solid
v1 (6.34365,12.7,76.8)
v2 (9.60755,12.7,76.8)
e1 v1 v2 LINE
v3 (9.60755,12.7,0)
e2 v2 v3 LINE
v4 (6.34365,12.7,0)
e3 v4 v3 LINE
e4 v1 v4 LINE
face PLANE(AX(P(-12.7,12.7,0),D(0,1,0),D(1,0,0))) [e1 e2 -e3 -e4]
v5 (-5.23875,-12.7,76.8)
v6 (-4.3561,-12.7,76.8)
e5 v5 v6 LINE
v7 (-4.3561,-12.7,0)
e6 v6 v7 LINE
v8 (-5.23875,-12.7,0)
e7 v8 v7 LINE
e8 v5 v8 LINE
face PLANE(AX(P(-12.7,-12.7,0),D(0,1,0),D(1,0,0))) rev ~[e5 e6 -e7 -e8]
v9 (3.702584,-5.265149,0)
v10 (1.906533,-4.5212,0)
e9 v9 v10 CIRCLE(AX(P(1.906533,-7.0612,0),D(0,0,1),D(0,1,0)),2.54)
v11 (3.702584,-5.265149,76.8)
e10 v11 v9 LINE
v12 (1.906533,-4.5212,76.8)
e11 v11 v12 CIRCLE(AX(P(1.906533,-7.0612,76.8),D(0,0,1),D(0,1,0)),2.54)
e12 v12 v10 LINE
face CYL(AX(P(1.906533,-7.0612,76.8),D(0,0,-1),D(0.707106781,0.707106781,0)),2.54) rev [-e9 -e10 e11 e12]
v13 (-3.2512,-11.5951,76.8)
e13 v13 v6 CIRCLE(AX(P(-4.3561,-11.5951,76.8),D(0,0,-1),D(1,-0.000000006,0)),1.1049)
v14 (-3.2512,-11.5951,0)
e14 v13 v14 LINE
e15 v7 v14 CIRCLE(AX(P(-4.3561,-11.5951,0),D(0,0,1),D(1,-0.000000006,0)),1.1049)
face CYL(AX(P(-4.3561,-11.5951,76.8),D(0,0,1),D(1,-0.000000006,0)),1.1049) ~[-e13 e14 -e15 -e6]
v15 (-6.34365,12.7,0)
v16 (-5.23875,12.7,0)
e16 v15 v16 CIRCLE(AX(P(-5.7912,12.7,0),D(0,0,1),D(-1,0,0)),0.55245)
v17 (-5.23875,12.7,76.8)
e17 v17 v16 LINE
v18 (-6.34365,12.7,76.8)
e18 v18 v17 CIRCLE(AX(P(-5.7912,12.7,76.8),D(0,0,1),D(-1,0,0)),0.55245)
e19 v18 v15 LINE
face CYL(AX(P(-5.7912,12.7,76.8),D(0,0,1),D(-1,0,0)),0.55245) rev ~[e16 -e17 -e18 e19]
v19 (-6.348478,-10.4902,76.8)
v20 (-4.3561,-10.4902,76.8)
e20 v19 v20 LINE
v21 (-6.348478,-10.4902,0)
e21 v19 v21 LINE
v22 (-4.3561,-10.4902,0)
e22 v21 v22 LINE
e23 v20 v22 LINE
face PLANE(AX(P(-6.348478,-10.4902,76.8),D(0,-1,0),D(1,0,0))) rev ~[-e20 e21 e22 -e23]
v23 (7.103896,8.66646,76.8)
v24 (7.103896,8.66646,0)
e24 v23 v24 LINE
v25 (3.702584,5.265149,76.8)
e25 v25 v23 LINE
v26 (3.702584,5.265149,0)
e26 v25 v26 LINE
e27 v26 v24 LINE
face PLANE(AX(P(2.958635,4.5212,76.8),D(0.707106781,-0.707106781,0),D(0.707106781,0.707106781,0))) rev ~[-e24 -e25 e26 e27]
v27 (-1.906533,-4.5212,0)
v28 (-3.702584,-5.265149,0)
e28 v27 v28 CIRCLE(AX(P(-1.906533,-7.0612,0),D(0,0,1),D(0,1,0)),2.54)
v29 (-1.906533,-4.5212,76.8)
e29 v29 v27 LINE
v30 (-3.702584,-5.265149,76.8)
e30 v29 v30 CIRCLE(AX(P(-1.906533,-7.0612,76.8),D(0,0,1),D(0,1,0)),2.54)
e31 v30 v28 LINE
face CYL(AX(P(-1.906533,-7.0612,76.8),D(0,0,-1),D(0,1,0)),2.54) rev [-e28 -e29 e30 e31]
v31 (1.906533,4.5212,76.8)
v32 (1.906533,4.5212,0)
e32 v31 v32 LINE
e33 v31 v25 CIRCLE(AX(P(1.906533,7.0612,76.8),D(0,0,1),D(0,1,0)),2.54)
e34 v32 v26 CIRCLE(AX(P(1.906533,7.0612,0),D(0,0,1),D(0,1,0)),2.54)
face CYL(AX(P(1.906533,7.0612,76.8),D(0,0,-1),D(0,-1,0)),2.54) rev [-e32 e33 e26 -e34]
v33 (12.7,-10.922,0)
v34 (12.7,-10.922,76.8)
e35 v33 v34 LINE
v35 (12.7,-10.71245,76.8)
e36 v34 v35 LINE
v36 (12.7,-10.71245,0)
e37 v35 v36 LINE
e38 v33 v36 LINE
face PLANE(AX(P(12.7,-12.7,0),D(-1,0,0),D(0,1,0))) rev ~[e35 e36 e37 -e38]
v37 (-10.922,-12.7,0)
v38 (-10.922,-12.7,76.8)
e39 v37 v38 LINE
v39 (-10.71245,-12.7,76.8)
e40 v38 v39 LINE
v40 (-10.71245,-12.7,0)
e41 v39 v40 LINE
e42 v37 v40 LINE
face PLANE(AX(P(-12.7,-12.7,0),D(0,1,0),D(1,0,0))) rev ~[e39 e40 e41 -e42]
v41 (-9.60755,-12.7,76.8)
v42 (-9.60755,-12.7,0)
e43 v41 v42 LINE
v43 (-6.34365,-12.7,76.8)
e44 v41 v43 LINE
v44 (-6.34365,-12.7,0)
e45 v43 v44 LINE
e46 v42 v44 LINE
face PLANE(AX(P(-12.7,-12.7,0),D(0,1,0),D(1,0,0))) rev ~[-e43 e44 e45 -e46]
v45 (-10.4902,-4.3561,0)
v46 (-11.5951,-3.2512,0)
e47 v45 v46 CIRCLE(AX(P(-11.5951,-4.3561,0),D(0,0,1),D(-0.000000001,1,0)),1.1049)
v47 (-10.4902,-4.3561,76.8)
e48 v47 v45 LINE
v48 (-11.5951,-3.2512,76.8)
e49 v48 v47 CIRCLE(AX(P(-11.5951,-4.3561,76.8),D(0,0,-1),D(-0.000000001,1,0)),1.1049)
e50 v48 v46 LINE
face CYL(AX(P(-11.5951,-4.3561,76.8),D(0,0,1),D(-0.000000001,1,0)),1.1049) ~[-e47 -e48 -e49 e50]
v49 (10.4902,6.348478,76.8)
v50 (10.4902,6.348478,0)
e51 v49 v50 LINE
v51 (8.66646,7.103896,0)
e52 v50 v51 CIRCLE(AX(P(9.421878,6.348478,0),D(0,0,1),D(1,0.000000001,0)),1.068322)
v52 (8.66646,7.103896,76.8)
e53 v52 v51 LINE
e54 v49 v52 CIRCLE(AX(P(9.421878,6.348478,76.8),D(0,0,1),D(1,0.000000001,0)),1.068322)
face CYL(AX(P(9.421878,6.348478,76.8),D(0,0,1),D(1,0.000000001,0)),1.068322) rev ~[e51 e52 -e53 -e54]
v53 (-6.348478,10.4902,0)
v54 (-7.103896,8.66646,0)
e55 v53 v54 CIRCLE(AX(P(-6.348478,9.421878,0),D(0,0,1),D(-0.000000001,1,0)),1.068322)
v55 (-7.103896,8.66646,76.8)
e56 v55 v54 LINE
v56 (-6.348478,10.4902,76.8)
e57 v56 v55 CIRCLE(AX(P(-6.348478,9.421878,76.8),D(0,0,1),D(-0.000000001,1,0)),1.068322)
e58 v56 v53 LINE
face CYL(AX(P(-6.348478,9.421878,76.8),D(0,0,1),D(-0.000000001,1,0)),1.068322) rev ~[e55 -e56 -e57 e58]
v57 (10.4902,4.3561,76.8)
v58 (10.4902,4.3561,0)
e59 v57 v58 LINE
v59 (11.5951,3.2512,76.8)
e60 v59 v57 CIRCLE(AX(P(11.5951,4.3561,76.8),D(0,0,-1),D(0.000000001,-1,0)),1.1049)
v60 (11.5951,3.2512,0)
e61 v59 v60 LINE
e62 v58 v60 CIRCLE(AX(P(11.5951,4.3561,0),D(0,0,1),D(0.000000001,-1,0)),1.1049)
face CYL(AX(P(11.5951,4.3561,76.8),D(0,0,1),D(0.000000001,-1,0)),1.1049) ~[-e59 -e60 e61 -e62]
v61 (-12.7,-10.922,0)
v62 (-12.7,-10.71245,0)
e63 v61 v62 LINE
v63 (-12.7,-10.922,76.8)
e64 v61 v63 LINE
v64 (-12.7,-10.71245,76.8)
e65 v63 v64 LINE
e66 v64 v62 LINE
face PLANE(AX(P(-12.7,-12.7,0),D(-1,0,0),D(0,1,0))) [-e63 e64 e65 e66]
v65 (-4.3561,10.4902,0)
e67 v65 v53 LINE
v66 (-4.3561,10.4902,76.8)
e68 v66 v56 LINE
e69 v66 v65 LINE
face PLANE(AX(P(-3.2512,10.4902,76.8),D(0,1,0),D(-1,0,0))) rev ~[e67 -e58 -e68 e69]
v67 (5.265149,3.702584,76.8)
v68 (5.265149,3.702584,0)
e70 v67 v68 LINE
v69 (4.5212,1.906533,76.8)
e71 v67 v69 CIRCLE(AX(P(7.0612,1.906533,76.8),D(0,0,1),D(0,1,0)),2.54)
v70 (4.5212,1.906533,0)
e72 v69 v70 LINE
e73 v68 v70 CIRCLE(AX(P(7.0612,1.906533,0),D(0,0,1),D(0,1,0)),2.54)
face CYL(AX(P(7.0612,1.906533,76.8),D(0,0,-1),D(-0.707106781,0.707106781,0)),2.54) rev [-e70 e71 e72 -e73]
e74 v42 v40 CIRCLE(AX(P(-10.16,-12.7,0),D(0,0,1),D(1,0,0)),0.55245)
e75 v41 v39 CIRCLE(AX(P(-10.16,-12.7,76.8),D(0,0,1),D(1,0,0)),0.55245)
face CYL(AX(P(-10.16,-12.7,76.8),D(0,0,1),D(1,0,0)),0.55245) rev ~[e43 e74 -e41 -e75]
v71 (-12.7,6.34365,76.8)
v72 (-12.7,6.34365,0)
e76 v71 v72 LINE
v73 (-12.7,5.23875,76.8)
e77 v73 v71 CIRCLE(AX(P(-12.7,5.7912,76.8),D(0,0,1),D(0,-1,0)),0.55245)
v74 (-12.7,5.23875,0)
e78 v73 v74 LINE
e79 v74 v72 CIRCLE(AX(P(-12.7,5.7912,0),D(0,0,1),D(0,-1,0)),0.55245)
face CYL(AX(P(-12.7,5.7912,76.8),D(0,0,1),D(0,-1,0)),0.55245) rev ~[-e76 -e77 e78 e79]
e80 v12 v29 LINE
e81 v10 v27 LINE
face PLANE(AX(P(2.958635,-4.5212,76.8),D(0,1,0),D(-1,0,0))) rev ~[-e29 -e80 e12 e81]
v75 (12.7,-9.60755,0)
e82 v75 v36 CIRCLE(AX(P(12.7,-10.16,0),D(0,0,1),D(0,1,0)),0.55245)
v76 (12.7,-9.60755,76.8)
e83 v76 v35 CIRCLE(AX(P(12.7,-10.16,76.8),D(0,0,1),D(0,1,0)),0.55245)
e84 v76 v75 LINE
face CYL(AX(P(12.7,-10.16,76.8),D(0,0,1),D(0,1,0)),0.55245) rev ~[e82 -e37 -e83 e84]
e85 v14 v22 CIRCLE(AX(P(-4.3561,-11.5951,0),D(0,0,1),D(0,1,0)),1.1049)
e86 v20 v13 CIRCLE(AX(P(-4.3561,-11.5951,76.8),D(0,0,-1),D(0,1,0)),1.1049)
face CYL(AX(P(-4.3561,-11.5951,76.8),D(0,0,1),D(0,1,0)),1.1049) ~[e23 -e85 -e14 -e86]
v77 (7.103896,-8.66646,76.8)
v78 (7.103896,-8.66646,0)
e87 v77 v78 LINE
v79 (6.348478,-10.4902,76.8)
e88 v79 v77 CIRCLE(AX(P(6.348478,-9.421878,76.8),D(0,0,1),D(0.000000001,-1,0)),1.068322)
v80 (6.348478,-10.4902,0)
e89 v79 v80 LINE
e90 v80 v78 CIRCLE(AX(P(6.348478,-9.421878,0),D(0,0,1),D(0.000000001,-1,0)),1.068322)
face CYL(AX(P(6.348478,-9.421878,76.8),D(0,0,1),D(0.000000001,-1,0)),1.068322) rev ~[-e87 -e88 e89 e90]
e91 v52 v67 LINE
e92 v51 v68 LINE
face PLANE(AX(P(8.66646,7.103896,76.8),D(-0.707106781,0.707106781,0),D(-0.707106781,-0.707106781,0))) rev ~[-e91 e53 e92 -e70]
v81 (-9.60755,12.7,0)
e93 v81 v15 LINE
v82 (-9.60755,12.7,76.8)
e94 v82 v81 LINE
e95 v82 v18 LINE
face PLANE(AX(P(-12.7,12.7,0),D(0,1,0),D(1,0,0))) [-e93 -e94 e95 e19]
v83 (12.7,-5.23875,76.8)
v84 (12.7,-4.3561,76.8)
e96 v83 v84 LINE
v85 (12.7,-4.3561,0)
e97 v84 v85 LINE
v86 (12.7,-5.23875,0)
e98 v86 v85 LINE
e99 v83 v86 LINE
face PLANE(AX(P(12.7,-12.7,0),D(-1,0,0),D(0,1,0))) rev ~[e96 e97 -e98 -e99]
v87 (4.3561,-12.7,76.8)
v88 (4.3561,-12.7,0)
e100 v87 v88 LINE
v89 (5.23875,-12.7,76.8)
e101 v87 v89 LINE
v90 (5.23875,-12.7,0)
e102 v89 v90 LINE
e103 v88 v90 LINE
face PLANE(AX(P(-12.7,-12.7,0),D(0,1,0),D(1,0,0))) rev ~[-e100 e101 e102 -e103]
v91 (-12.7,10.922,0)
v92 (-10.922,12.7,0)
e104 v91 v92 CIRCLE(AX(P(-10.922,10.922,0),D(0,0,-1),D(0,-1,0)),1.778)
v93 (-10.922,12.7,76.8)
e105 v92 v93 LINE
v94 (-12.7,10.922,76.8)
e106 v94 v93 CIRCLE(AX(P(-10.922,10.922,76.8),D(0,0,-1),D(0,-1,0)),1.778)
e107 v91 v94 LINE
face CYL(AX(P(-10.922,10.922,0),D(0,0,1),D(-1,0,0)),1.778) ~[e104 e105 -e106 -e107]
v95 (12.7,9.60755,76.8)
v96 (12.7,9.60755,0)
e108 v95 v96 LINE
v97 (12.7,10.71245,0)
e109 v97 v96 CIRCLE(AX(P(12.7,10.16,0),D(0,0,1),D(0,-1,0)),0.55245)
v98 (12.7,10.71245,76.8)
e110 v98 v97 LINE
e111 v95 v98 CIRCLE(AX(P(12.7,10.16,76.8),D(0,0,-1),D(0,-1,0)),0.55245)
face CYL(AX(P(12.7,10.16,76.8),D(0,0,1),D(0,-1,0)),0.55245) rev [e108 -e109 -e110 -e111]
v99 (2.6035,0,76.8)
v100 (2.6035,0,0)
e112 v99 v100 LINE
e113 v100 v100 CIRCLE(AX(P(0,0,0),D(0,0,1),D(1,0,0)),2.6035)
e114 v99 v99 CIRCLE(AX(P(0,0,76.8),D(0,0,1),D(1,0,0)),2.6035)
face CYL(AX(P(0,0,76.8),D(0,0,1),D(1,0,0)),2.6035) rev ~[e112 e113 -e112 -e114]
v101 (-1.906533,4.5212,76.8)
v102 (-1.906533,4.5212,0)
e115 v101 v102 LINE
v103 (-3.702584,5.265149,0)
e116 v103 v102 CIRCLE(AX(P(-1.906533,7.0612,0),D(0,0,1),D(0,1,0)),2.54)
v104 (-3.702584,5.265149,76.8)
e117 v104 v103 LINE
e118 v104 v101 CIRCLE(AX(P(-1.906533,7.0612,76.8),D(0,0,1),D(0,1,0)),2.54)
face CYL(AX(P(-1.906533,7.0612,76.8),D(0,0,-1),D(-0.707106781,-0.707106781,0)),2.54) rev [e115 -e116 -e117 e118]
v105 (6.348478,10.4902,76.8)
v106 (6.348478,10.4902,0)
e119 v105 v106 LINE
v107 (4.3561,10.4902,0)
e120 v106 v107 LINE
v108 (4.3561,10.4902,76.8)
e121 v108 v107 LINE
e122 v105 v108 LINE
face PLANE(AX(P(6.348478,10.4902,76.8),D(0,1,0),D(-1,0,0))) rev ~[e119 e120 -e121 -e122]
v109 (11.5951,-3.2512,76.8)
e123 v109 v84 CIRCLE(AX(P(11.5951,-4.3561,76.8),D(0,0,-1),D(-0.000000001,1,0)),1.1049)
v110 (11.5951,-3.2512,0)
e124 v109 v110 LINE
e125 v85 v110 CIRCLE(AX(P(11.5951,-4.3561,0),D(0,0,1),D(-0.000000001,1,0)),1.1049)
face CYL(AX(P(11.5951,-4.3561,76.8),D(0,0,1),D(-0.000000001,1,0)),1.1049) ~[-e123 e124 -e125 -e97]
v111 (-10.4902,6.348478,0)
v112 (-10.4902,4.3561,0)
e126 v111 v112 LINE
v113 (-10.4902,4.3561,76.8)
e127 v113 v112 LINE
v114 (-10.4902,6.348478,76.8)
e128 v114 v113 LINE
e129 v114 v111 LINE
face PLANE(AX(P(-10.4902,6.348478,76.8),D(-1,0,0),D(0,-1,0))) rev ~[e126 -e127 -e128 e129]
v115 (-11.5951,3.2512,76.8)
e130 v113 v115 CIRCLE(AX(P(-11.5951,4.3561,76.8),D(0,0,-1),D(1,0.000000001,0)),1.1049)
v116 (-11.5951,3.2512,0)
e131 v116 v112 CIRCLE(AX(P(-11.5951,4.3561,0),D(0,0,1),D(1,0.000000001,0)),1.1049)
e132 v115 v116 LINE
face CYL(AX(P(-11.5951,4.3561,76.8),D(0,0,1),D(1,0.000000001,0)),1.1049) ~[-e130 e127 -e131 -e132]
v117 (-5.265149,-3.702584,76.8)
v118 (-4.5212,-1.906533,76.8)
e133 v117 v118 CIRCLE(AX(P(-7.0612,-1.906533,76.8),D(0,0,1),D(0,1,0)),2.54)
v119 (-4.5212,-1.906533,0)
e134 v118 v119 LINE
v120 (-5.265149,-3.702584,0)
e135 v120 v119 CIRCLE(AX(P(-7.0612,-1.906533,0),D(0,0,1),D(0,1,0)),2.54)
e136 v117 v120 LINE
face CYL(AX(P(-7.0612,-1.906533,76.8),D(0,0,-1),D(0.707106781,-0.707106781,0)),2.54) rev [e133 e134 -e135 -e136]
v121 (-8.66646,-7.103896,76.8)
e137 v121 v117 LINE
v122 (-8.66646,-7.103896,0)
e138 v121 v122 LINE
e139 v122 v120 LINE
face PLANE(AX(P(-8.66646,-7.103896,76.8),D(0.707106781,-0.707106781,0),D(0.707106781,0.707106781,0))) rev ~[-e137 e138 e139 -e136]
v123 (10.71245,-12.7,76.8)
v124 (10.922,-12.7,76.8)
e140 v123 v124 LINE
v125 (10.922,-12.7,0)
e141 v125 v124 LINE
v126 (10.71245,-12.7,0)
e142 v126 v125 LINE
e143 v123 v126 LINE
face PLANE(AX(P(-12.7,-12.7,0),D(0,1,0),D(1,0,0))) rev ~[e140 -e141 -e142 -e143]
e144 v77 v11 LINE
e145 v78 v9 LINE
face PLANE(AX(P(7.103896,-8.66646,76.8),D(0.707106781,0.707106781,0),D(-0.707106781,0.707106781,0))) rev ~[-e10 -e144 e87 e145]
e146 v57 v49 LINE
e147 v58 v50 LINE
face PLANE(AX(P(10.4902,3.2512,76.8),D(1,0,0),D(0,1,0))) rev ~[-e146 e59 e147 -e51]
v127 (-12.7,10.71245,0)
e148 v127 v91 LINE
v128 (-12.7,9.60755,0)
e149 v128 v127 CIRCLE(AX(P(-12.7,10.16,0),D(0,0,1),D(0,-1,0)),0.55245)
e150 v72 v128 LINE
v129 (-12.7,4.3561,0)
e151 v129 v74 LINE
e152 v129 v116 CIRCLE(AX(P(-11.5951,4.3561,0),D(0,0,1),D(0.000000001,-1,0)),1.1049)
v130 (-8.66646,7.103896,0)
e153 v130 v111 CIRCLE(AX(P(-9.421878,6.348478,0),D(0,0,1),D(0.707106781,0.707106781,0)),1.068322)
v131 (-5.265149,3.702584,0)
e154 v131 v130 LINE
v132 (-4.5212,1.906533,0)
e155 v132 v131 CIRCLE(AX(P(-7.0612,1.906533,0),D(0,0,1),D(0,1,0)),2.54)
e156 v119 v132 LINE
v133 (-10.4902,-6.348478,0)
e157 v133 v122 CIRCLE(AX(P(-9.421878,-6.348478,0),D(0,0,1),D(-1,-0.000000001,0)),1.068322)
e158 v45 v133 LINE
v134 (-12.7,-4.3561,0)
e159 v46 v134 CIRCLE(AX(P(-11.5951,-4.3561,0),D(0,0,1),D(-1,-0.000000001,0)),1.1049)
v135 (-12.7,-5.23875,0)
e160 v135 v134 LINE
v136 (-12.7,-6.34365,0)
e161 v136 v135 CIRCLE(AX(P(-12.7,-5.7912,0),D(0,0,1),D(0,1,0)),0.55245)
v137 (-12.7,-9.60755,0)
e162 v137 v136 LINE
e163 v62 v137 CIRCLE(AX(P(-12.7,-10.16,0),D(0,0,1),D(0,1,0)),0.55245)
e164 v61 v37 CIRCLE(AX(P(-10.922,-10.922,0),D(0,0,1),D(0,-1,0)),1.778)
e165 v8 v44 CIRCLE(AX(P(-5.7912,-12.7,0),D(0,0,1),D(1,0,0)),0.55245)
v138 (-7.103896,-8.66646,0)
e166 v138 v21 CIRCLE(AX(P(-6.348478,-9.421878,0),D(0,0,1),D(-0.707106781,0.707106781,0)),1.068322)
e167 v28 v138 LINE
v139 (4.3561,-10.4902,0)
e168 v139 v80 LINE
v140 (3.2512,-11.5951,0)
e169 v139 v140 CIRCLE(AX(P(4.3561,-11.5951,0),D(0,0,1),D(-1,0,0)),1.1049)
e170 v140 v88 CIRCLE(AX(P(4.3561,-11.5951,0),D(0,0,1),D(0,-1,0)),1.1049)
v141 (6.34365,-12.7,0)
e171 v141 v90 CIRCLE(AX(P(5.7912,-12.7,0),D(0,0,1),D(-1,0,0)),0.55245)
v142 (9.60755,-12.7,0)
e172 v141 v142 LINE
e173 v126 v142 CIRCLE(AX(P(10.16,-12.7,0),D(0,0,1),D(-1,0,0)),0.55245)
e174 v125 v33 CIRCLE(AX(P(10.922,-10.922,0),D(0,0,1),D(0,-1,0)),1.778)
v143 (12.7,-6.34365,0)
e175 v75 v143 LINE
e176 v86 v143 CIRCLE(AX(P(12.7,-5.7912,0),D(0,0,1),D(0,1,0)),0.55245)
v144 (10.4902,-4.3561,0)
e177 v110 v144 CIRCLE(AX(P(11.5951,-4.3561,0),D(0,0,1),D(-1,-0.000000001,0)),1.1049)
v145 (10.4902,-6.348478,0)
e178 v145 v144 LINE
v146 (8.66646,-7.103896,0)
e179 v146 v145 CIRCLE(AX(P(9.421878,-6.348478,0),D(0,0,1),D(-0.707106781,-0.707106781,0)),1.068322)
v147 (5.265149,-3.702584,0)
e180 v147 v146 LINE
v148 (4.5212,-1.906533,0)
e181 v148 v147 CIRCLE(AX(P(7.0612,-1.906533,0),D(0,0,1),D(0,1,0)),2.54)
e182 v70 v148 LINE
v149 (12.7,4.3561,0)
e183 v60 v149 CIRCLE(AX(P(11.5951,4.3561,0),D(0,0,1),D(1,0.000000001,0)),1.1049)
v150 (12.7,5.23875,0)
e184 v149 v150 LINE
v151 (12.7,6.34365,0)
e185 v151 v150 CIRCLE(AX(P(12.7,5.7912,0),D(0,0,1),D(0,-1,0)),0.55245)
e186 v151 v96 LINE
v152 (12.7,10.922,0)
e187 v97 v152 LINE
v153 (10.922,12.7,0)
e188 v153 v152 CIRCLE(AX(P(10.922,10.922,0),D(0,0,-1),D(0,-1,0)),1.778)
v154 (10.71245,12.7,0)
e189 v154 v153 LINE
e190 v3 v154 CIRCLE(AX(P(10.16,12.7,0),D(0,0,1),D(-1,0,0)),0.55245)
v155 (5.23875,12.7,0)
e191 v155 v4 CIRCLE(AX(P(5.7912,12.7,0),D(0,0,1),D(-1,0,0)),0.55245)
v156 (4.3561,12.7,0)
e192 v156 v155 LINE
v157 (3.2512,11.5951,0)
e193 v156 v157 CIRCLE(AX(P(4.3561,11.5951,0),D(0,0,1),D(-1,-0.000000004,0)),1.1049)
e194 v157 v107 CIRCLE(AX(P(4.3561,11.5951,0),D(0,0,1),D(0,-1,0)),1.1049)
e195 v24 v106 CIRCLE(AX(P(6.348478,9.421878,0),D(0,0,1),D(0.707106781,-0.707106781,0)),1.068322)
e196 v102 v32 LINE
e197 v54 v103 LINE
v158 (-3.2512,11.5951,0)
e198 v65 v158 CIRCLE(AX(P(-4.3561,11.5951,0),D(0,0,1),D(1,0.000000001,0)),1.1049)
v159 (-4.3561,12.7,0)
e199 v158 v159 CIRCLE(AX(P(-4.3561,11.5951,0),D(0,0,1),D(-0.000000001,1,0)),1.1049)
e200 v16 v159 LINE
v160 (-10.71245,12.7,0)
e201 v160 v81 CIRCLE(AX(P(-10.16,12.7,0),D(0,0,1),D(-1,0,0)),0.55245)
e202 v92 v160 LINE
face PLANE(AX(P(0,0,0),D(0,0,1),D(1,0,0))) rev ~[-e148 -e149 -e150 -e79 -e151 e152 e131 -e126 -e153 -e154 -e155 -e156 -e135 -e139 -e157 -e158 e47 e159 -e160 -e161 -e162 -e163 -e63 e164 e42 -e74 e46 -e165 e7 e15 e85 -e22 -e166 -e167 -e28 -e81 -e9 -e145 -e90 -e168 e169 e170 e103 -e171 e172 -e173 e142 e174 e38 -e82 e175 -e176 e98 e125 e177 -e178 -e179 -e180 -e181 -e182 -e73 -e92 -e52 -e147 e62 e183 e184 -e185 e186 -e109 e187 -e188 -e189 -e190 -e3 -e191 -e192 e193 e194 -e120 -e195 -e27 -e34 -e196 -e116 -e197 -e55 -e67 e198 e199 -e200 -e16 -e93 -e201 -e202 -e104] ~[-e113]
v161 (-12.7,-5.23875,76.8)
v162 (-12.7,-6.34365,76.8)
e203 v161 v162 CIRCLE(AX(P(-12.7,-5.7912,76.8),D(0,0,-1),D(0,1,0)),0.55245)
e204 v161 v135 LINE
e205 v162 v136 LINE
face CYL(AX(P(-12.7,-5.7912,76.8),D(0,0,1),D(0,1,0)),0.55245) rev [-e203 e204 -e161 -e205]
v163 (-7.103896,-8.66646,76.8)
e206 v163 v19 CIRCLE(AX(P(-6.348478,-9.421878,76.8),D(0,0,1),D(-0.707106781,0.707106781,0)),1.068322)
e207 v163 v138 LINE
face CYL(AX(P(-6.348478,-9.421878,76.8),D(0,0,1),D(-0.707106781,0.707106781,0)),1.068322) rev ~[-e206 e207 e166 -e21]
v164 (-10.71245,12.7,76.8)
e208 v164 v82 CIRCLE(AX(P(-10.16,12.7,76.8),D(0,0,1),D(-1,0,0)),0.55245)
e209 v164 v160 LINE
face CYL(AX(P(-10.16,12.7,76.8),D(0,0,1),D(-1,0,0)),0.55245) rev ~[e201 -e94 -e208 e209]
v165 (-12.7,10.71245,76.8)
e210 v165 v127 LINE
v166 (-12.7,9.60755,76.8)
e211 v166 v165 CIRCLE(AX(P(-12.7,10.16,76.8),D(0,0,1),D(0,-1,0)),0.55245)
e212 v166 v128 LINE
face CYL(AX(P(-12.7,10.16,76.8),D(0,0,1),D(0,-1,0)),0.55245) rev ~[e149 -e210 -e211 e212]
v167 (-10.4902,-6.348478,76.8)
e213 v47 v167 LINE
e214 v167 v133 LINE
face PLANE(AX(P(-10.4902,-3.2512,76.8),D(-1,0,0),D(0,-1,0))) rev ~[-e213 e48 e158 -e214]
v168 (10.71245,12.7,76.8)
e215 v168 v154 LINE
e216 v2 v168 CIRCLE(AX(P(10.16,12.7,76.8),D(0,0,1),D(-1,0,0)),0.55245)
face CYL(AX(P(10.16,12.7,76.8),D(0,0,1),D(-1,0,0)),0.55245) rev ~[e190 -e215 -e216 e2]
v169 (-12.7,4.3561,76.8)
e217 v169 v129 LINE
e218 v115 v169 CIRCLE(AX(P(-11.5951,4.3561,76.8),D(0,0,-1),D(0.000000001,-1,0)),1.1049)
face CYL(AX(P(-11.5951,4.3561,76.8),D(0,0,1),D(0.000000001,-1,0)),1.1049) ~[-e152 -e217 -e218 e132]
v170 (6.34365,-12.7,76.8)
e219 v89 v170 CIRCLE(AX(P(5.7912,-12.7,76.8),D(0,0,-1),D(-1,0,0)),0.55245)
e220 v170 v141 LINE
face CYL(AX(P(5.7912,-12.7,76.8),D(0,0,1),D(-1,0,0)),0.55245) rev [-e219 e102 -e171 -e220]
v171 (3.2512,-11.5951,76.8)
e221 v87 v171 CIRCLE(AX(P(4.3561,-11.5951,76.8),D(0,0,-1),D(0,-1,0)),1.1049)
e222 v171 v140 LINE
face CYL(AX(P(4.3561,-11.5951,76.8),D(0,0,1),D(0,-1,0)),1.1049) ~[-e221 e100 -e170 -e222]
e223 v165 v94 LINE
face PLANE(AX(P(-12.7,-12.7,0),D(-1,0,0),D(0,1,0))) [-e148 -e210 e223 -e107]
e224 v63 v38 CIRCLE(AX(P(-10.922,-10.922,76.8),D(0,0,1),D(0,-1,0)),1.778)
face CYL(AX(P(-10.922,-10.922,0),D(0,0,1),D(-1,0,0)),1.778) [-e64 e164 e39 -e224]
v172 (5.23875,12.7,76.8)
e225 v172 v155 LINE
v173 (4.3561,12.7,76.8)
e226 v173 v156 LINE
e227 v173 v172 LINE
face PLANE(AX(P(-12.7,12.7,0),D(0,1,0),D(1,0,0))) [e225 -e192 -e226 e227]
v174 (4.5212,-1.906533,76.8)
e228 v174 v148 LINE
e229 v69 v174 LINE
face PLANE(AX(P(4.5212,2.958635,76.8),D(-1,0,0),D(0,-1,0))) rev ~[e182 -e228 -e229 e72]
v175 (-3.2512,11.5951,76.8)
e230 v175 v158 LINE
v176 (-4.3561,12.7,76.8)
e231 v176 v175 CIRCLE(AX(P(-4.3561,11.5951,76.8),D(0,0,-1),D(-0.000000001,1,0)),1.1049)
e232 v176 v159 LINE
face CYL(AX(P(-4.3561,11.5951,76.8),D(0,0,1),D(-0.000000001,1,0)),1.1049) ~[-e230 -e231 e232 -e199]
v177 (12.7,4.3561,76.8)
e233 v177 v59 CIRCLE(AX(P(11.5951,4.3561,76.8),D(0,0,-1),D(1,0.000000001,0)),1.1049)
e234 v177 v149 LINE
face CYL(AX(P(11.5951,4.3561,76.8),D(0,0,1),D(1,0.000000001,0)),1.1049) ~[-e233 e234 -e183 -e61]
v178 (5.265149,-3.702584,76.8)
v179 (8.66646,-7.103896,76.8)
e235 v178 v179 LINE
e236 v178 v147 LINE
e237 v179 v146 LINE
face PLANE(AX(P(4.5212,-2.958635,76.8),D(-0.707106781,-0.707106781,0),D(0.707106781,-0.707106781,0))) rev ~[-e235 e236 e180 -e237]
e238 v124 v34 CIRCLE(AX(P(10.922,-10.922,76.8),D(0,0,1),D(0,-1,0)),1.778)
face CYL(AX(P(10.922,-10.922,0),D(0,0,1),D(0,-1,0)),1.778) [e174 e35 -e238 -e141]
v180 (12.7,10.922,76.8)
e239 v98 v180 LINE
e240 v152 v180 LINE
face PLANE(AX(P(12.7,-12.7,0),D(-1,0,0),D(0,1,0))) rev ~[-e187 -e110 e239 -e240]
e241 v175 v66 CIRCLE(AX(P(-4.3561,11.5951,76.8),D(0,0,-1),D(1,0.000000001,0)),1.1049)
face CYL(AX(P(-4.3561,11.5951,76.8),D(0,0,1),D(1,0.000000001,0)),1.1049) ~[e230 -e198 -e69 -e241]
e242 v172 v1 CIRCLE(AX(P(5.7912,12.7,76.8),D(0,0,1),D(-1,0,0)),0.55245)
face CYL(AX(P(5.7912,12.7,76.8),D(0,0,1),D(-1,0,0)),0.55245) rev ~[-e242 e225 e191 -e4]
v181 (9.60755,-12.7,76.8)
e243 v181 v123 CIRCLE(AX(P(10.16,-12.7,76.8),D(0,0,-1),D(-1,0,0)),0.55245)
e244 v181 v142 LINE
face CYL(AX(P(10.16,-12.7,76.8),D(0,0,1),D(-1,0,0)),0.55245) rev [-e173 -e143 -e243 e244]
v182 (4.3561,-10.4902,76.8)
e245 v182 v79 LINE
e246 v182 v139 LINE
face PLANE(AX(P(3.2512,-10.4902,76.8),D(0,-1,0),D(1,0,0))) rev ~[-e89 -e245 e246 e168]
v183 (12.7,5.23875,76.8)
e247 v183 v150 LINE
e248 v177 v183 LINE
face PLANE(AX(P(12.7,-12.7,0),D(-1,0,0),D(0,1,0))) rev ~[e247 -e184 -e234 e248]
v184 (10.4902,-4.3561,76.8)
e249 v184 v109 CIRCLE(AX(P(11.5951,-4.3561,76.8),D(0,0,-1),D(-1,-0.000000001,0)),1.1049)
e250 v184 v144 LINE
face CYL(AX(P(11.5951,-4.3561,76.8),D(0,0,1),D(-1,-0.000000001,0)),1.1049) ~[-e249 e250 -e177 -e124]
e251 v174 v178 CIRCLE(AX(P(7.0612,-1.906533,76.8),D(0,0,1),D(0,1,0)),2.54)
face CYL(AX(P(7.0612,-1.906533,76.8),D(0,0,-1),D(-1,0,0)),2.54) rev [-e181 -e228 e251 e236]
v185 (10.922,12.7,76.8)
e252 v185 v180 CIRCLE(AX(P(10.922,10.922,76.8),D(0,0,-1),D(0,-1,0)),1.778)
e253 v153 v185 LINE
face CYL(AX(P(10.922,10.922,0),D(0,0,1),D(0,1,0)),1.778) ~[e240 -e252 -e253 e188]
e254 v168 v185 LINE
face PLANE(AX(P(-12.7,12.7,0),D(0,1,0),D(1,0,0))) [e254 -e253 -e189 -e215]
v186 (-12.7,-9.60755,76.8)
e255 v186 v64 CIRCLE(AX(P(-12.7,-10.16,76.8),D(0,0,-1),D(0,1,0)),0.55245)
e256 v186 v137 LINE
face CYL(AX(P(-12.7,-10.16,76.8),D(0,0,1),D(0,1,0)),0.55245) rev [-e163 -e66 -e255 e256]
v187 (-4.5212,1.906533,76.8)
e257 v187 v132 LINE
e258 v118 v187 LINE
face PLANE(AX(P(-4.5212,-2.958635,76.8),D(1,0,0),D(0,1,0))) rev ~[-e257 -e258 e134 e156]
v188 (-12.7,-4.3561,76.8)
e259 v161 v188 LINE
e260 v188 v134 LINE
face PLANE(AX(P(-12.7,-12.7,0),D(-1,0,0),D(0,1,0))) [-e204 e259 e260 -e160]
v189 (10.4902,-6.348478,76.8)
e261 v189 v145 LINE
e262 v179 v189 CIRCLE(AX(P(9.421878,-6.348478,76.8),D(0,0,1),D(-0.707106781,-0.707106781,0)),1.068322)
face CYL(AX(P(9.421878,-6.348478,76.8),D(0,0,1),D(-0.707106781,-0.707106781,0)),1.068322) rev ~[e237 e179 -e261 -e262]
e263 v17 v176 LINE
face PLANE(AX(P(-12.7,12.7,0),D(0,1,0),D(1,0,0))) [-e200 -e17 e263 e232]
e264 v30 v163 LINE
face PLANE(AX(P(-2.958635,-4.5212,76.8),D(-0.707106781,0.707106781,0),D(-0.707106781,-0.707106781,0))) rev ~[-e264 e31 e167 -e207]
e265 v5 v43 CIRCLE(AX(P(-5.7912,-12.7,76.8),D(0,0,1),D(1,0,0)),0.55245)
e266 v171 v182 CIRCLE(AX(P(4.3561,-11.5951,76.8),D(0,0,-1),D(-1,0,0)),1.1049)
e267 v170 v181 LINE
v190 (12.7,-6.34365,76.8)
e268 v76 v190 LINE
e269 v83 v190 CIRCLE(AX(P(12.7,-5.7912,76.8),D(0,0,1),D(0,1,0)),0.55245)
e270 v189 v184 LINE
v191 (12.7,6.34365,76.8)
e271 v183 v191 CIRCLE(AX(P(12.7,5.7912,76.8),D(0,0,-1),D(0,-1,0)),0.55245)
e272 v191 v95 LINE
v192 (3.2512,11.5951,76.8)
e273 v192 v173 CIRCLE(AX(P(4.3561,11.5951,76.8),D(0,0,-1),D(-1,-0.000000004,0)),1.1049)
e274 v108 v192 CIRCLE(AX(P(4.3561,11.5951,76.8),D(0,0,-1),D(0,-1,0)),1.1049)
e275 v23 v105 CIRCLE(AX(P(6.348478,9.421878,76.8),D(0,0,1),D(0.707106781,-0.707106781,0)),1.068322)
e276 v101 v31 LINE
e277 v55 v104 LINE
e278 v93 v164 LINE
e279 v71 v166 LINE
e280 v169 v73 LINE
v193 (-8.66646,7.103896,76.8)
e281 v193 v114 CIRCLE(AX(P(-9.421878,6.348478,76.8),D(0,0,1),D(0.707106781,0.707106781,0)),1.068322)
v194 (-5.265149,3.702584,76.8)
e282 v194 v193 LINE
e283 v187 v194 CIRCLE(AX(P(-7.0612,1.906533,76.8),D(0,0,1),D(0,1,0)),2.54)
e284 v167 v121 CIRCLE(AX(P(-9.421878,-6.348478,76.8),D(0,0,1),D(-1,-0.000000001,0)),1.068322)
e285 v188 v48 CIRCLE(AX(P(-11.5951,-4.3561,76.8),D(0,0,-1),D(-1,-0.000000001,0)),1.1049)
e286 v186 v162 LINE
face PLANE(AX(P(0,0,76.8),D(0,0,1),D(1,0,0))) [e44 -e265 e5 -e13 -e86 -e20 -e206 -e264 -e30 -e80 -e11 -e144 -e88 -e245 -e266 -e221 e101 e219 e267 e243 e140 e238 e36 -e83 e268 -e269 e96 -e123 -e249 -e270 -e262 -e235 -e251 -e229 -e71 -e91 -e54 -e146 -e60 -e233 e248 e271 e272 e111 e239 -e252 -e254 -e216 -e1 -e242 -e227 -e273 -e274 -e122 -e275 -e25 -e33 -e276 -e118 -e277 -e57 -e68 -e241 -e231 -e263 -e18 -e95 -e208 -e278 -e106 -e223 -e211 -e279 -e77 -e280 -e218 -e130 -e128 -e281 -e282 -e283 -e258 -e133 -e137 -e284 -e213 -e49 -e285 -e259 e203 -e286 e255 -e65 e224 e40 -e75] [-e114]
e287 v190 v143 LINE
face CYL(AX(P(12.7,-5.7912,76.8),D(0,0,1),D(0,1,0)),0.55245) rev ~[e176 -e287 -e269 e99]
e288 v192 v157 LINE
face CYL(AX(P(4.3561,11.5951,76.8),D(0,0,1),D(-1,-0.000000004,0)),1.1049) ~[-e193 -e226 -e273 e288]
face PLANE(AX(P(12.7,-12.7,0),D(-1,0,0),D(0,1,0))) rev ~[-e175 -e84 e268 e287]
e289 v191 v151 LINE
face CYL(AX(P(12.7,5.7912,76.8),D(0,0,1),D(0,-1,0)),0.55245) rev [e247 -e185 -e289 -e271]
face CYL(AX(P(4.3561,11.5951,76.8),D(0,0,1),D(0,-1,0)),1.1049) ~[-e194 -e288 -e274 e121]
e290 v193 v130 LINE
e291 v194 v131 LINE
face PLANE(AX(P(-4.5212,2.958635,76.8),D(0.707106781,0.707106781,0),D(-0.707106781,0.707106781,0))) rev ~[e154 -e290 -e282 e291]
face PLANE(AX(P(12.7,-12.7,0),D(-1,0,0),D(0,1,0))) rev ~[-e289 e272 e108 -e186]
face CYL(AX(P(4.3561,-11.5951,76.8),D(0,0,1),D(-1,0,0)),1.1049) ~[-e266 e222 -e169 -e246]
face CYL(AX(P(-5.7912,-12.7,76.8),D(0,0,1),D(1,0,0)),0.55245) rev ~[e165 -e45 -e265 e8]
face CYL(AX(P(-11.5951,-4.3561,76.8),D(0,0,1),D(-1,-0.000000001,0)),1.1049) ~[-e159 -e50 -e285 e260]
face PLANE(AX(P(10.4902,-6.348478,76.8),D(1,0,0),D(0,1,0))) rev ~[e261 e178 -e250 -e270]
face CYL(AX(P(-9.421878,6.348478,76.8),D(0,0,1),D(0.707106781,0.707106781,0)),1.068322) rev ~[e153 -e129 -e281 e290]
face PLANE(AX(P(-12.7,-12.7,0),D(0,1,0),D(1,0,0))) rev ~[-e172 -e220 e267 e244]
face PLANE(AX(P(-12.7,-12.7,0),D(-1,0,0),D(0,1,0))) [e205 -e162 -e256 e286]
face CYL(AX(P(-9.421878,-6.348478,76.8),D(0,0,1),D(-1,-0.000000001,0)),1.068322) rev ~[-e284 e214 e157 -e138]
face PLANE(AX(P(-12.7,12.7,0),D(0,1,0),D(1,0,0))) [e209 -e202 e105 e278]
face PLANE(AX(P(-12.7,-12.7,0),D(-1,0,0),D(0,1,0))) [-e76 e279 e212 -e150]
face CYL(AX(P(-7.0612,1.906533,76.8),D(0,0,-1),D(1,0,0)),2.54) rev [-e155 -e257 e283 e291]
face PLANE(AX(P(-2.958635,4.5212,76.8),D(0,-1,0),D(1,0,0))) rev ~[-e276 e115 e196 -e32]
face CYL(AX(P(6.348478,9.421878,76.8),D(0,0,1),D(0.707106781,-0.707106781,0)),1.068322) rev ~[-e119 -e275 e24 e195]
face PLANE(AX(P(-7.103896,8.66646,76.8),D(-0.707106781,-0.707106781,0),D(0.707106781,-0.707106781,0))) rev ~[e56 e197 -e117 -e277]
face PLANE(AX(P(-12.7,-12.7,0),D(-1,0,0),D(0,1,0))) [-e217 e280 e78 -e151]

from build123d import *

# Parameters (mm, degrees)
SKETCH3_W           = 25.4
SKETCH3_H           = 25.4
BOSS_EXTRUDE1_DEPTH = 76.8
SKETCH4_R           = 2.6035
CUT_EXTRUDE1_DEPTH  = 79.872175068
CUT_EXTRUDE2_DEPTH  = 79.872175068
FILLET1_R           = 2.54
FILLET2_R           = 1.778


with BuildPart() as part:
    # Sketch3 → Boss-Extrude1 (new body)
    with BuildSketch(Plane.XY):
        Rectangle(SKETCH3_W, SKETCH3_H)
    extrude(amount=BOSS_EXTRUDE1_DEPTH)

    # Sketch4 → Cut-Extrude1 (cut, through all)
    with BuildSketch(Plane.XY.offset(76.8)):
        with BuildLine():
            Line((3.2512, 12.7), (-3.2512, 12.7))
            Line((-3.2512, 12.7), (-3.2512, 10.4902))
            Line((-3.2512, 10.4902), (-6.348478019, 10.4902))
            ThreePointArc((-6.348478019, 10.4902), (-7.335478831, 9.830707141), (-7.103895736, 8.666460301))
            Line((-7.103895736, 8.666460301), (-2.958635435, 4.5212))
            Line((-2.958635435, 4.5212), (2.958635435, 4.5212))
            Line((2.958635435, 4.5212), (7.103895736, 8.666460301))
            ThreePointArc((7.103895736, 8.666460301), (7.335478831, 9.830707141), (6.348478019, 10.4902))
            Line((6.348478019, 10.4902), (3.2512, 10.4902))
            Line((3.2512, 10.4902), (3.2512, 12.7))
        make_face()
        with BuildLine():
            Line((12.7, -3.2512), (12.7, 3.2512))
            Line((12.7, 3.2512), (10.4902, 3.2512))
            Line((10.4902, 3.2512), (10.4902, 6.348478019))
            ThreePointArc((10.4902, 6.348478019), (9.830707141, 7.335478831), (8.666460301, 7.103895736))
            Line((8.666460301, 7.103895736), (4.5212, 2.958635435))
            Line((4.5212, 2.958635435), (4.5212, -2.958635435))
            Line((4.5212, -2.958635435), (8.666460301, -7.103895736))
            ThreePointArc((8.666460301, -7.103895736), (9.830707141, -7.335478831), (10.4902, -6.348478019))
            Line((10.4902, -6.348478019), (10.4902, -3.2512))
            Line((10.4902, -3.2512), (12.7, -3.2512))
        make_face()
        with BuildLine():
            Line((-3.2512, -10.4902), (-3.2512, -12.7))
            Line((-3.2512, -12.7), (3.2512, -12.7))
            Line((3.2512, -12.7), (3.2512, -10.4902))
            Line((3.2512, -10.4902), (6.348478019, -10.4902))
            ThreePointArc((6.348478019, -10.4902), (7.335478831, -9.830707141), (7.103895736, -8.666460301))
            Line((7.103895736, -8.666460301), (2.958635435, -4.5212))
            Line((2.958635435, -4.5212), (-2.958635435, -4.5212))
            Line((-2.958635435, -4.5212), (-7.103895736, -8.666460301))
            ThreePointArc((-7.103895736, -8.666460301), (-7.335478831, -9.830707141), (-6.348478019, -10.4902))
            Line((-6.348478019, -10.4902), (-3.2512, -10.4902))
        make_face()
        with BuildLine():
            Line((-10.4902, 3.2512), (-12.7, 3.2512))
            Line((-12.7, 3.2512), (-12.7, -3.2512))
            Line((-12.7, -3.2512), (-10.4902, -3.2512))
            Line((-10.4902, -3.2512), (-10.4902, -6.348478019))
            ThreePointArc((-10.4902, -6.348478019), (-9.830707141, -7.335478831), (-8.666460301, -7.103895736))
            Line((-8.666460301, -7.103895736), (-4.5212, -2.958635435))
            Line((-4.5212, -2.958635435), (-4.5212, 2.958635435))
            Line((-4.5212, 2.958635435), (-8.666460301, 7.103895736))
            ThreePointArc((-8.666460301, 7.103895736), (-9.830707141, 7.335478831), (-10.4902, 6.348478019))
            Line((-10.4902, 6.348478019), (-10.4902, 3.2512))
        make_face()
        Circle(SKETCH4_R)
    extrude(amount=-CUT_EXTRUDE1_DEPTH, mode=Mode.SUBTRACT)

    # Sketch5 → Cut-Extrude2 (cut, through all)
    with BuildSketch(Plane.XY.offset(76.8)):
        with BuildLine():
            ThreePointArc((-11.5951, 3.2512), (-12.376382283, 3.574817717), (-12.7, 4.3561))
            Line((-12.7, 4.3561), (-12.7, 3.2512))
            Line((-12.7, 3.2512), (-11.5951, 3.2512))
        make_face()
        with BuildLine():
            ThreePointArc((-10.4902, 4.3561), (-10.813817717, 3.574817717), (-11.5951, 3.2512))
            Line((-11.5951, 3.2512), (-10.4902, 3.2512))
            Line((-10.4902, 3.2512), (-10.4902, 4.3561))
        make_face()
        with BuildLine():
            Line((-12.7, -3.2512), (-12.7, -4.3561))
            ThreePointArc((-12.7, -4.3561), (-12.376382283, -3.574817717), (-11.5951, -3.2512))
            Line((-11.5951, -3.2512), (-12.7, -3.2512))
        make_face()
        with BuildLine():
            Line((-10.4902, -3.2512), (-11.5951, -3.2512))
            ThreePointArc((-11.5951, -3.2512), (-10.813817717, -3.574817717), (-10.4902, -4.3561))
            Line((-10.4902, -4.3561), (-10.4902, -3.2512))
        make_face()
        with BuildLine():
            Line((-3.2512, -11.595100007), (-3.2512, -10.4902))
            Line((-3.2512, -10.4902), (-4.3561, -10.4902))
            ThreePointArc((-4.3561, -10.4902), (-3.574817715, -10.81381772), (-3.2512, -11.595100007))
        make_face()
        with BuildLine():
            Line((-3.2512, -12.7), (-3.2512, -11.595100007))
            ThreePointArc((-3.2512, -11.595100007), (-3.57481772, -12.376382285), (-4.3561, -12.7))
            Line((-4.3561, -12.7), (-3.2512, -12.7))
        make_face()
        with BuildLine():
            Line((3.2512, -10.4902), (3.2512, -11.5951))
            ThreePointArc((3.2512, -11.5951), (3.574817718, -10.813817717), (4.3561, -10.4902))
            Line((4.3561, -10.4902), (3.2512, -10.4902))
        make_face()
        with BuildLine():
            Line((3.2512, -12.7), (4.3561, -12.7))
            ThreePointArc((4.3561, -12.7), (3.574817717, -12.376382282), (3.2512, -11.5951))
            Line((3.2512, -11.5951), (3.2512, -12.7))
        make_face()
        with BuildLine():
            Line((11.5951, -3.2512), (10.4902, -3.2512))
            Line((10.4902, -3.2512), (10.4902, -4.3561))
            ThreePointArc((10.4902, -4.3561), (10.813817717, -3.574817717), (11.5951, -3.2512))
        make_face()
        with BuildLine():
            Line((12.7, -3.2512), (11.5951, -3.2512))
            ThreePointArc((11.5951, -3.2512), (12.376382283, -3.574817717), (12.7, -4.3561))
            Line((12.7, -4.3561), (12.7, -3.2512))
        make_face()
        with BuildLine():
            Line((10.4902, 3.2512), (11.5951, 3.2512))
            ThreePointArc((11.5951, 3.2512), (10.813817717, 3.574817717), (10.4902, 4.3561))
            Line((10.4902, 4.3561), (10.4902, 3.2512))
        make_face()
        with BuildLine():
            Line((12.7, 3.2512), (12.7, 4.3561))
            ThreePointArc((12.7, 4.3561), (12.376382283, 3.574817717), (11.5951, 3.2512))
            Line((11.5951, 3.2512), (12.7, 3.2512))
        make_face()
        with BuildLine():
            Line((3.2512, 12.7), (3.2512, 11.595099996))
            ThreePointArc((3.2512, 11.595099996), (3.574817716, 12.376382281), (4.3561, 12.7))
            Line((4.3561, 12.7), (3.2512, 12.7))
        make_face()
        with BuildLine():
            Line((3.2512, 11.595099996), (3.2512, 10.4902))
            Line((3.2512, 10.4902), (4.3561, 10.4902))
            ThreePointArc((4.3561, 10.4902), (3.574817719, 10.813817716), (3.2512, 11.595099996))
        make_face()
        with BuildLine():
            Line((-3.2512, 12.7), (-4.3561, 12.7))
            ThreePointArc((-4.3561, 12.7), (-3.574817717, 12.376382283), (-3.2512, 11.5951))
            Line((-3.2512, 11.5951), (-3.2512, 12.7))
        make_face()
        with BuildLine():
            Line((-3.2512, 10.4902), (-3.2512, 11.5951))
            ThreePointArc((-3.2512, 11.5951), (-3.574817717, 10.813817717), (-4.3561, 10.4902))
            Line((-4.3561, 10.4902), (-3.2512, 10.4902))
        make_face()
        with BuildLine():
            ThreePointArc((-12.7, 5.23875), (-12.14755, 5.7912), (-12.7, 6.34365))
            Line((-12.7, 6.34365), (-12.7, 5.23875))
        make_face()
        with BuildLine():
            ThreePointArc((-12.7, 9.60755), (-12.14755, 10.16), (-12.7, 10.71245))
            Line((-12.7, 10.71245), (-12.7, 9.60755))
        make_face()
        with BuildLine():
            ThreePointArc((-10.71245, 12.7), (-10.16, 12.14755), (-9.60755, 12.7))
            Line((-9.60755, 12.7), (-10.71245, 12.7))
        make_face()
        with BuildLine():
            ThreePointArc((-6.34365, 12.7), (-5.7912, 12.14755), (-5.23875, 12.7))
            Line((-5.23875, 12.7), (-6.34365, 12.7))
        make_face()
        with BuildLine():
            Line((6.34365, 12.7), (5.23875, 12.7))
            ThreePointArc((5.23875, 12.7), (5.7912, 12.14755), (6.34365, 12.7))
        make_face()
        with BuildLine():
            Line((10.71245, 12.7), (9.60755, 12.7))
            ThreePointArc((9.60755, 12.7), (10.16, 12.14755), (10.71245, 12.7))
        make_face()
        with BuildLine():
            Line((12.7, 10.71245), (12.7, 9.60755))
            ThreePointArc((12.7, 9.60755), (12.14755, 10.16), (12.7, 10.71245))
        make_face()
        with BuildLine():
            Line((12.7, 6.34365), (12.7, 5.23875))
            ThreePointArc((12.7, 5.23875), (12.14755, 5.7912), (12.7, 6.34365))
        make_face()
        with BuildLine():
            Line((-12.7, -6.34365), (-12.7, -5.23875))
            ThreePointArc((-12.7, -5.23875), (-12.14755, -5.7912), (-12.7, -6.34365))
        make_face()
        with BuildLine():
            Line((-12.7, -10.71245), (-12.7, -9.60755))
            ThreePointArc((-12.7, -9.60755), (-12.14755, -10.16), (-12.7, -10.71245))
        make_face()
        with BuildLine():
            Line((-10.71245, -12.7), (-9.60755, -12.7))
            ThreePointArc((-9.60755, -12.7), (-10.16, -12.14755), (-10.71245, -12.7))
        make_face()
        with BuildLine():
            Line((-6.34365, -12.7), (-5.23875, -12.7))
            ThreePointArc((-5.23875, -12.7), (-5.7912, -12.14755), (-6.34365, -12.7))
        make_face()
        with BuildLine():
            Line((12.7, -10.71245), (12.7, -9.60755))
            ThreePointArc((12.7, -9.60755), (12.14755, -10.16), (12.7, -10.71245))
        make_face()
        with BuildLine():
            Line((12.7, -6.34365), (12.7, -5.23875))
            ThreePointArc((12.7, -5.23875), (12.14755, -5.7912), (12.7, -6.34365))
        make_face()
        with BuildLine():
            Line((10.71245, -12.7), (9.60755, -12.7))
            ThreePointArc((9.60755, -12.7), (10.16, -12.14755), (10.71245, -12.7))
        make_face()
        with BuildLine():
            Line((6.34365, -12.7), (5.23875, -12.7))
            ThreePointArc((5.23875, -12.7), (5.7912, -12.14755), (6.34365, -12.7))
        make_face()
    extrude(amount=-CUT_EXTRUDE2_DEPTH, mode=Mode.SUBTRACT)

    # Fillet1
    fillet1_edges = [part.edges().sort_by_distance(p)[0] for p in [
        (-2.958635435, -4.5212, 38.4),
        (2.958635435, -4.5212, 38.4),
        (4.5212, -2.958635435, 38.4),
        (4.5212, 2.958635435, 38.4),
        (-4.5212, 2.958635435, 38.4),
        (-4.5212, -2.958635435, 38.4),
        (2.958635435, 4.5212, 38.4),
        (-2.958635435, 4.5212, 38.4),
    ]]
    fillet(fillet1_edges, radius=FILLET1_R)

    # Fillet2
    fillet2_edges = [part.edges().sort_by_distance(p)[0] for p in [
        (-12.7, 12.7, 38.4),
        (12.7, 12.7, 38.4),
        (12.7, -12.7, 38.4),
        (-12.7, -12.7, 38.4),
    ]]
    fillet(fillet2_edges, radius=FILLET2_R)


solid = part.part
